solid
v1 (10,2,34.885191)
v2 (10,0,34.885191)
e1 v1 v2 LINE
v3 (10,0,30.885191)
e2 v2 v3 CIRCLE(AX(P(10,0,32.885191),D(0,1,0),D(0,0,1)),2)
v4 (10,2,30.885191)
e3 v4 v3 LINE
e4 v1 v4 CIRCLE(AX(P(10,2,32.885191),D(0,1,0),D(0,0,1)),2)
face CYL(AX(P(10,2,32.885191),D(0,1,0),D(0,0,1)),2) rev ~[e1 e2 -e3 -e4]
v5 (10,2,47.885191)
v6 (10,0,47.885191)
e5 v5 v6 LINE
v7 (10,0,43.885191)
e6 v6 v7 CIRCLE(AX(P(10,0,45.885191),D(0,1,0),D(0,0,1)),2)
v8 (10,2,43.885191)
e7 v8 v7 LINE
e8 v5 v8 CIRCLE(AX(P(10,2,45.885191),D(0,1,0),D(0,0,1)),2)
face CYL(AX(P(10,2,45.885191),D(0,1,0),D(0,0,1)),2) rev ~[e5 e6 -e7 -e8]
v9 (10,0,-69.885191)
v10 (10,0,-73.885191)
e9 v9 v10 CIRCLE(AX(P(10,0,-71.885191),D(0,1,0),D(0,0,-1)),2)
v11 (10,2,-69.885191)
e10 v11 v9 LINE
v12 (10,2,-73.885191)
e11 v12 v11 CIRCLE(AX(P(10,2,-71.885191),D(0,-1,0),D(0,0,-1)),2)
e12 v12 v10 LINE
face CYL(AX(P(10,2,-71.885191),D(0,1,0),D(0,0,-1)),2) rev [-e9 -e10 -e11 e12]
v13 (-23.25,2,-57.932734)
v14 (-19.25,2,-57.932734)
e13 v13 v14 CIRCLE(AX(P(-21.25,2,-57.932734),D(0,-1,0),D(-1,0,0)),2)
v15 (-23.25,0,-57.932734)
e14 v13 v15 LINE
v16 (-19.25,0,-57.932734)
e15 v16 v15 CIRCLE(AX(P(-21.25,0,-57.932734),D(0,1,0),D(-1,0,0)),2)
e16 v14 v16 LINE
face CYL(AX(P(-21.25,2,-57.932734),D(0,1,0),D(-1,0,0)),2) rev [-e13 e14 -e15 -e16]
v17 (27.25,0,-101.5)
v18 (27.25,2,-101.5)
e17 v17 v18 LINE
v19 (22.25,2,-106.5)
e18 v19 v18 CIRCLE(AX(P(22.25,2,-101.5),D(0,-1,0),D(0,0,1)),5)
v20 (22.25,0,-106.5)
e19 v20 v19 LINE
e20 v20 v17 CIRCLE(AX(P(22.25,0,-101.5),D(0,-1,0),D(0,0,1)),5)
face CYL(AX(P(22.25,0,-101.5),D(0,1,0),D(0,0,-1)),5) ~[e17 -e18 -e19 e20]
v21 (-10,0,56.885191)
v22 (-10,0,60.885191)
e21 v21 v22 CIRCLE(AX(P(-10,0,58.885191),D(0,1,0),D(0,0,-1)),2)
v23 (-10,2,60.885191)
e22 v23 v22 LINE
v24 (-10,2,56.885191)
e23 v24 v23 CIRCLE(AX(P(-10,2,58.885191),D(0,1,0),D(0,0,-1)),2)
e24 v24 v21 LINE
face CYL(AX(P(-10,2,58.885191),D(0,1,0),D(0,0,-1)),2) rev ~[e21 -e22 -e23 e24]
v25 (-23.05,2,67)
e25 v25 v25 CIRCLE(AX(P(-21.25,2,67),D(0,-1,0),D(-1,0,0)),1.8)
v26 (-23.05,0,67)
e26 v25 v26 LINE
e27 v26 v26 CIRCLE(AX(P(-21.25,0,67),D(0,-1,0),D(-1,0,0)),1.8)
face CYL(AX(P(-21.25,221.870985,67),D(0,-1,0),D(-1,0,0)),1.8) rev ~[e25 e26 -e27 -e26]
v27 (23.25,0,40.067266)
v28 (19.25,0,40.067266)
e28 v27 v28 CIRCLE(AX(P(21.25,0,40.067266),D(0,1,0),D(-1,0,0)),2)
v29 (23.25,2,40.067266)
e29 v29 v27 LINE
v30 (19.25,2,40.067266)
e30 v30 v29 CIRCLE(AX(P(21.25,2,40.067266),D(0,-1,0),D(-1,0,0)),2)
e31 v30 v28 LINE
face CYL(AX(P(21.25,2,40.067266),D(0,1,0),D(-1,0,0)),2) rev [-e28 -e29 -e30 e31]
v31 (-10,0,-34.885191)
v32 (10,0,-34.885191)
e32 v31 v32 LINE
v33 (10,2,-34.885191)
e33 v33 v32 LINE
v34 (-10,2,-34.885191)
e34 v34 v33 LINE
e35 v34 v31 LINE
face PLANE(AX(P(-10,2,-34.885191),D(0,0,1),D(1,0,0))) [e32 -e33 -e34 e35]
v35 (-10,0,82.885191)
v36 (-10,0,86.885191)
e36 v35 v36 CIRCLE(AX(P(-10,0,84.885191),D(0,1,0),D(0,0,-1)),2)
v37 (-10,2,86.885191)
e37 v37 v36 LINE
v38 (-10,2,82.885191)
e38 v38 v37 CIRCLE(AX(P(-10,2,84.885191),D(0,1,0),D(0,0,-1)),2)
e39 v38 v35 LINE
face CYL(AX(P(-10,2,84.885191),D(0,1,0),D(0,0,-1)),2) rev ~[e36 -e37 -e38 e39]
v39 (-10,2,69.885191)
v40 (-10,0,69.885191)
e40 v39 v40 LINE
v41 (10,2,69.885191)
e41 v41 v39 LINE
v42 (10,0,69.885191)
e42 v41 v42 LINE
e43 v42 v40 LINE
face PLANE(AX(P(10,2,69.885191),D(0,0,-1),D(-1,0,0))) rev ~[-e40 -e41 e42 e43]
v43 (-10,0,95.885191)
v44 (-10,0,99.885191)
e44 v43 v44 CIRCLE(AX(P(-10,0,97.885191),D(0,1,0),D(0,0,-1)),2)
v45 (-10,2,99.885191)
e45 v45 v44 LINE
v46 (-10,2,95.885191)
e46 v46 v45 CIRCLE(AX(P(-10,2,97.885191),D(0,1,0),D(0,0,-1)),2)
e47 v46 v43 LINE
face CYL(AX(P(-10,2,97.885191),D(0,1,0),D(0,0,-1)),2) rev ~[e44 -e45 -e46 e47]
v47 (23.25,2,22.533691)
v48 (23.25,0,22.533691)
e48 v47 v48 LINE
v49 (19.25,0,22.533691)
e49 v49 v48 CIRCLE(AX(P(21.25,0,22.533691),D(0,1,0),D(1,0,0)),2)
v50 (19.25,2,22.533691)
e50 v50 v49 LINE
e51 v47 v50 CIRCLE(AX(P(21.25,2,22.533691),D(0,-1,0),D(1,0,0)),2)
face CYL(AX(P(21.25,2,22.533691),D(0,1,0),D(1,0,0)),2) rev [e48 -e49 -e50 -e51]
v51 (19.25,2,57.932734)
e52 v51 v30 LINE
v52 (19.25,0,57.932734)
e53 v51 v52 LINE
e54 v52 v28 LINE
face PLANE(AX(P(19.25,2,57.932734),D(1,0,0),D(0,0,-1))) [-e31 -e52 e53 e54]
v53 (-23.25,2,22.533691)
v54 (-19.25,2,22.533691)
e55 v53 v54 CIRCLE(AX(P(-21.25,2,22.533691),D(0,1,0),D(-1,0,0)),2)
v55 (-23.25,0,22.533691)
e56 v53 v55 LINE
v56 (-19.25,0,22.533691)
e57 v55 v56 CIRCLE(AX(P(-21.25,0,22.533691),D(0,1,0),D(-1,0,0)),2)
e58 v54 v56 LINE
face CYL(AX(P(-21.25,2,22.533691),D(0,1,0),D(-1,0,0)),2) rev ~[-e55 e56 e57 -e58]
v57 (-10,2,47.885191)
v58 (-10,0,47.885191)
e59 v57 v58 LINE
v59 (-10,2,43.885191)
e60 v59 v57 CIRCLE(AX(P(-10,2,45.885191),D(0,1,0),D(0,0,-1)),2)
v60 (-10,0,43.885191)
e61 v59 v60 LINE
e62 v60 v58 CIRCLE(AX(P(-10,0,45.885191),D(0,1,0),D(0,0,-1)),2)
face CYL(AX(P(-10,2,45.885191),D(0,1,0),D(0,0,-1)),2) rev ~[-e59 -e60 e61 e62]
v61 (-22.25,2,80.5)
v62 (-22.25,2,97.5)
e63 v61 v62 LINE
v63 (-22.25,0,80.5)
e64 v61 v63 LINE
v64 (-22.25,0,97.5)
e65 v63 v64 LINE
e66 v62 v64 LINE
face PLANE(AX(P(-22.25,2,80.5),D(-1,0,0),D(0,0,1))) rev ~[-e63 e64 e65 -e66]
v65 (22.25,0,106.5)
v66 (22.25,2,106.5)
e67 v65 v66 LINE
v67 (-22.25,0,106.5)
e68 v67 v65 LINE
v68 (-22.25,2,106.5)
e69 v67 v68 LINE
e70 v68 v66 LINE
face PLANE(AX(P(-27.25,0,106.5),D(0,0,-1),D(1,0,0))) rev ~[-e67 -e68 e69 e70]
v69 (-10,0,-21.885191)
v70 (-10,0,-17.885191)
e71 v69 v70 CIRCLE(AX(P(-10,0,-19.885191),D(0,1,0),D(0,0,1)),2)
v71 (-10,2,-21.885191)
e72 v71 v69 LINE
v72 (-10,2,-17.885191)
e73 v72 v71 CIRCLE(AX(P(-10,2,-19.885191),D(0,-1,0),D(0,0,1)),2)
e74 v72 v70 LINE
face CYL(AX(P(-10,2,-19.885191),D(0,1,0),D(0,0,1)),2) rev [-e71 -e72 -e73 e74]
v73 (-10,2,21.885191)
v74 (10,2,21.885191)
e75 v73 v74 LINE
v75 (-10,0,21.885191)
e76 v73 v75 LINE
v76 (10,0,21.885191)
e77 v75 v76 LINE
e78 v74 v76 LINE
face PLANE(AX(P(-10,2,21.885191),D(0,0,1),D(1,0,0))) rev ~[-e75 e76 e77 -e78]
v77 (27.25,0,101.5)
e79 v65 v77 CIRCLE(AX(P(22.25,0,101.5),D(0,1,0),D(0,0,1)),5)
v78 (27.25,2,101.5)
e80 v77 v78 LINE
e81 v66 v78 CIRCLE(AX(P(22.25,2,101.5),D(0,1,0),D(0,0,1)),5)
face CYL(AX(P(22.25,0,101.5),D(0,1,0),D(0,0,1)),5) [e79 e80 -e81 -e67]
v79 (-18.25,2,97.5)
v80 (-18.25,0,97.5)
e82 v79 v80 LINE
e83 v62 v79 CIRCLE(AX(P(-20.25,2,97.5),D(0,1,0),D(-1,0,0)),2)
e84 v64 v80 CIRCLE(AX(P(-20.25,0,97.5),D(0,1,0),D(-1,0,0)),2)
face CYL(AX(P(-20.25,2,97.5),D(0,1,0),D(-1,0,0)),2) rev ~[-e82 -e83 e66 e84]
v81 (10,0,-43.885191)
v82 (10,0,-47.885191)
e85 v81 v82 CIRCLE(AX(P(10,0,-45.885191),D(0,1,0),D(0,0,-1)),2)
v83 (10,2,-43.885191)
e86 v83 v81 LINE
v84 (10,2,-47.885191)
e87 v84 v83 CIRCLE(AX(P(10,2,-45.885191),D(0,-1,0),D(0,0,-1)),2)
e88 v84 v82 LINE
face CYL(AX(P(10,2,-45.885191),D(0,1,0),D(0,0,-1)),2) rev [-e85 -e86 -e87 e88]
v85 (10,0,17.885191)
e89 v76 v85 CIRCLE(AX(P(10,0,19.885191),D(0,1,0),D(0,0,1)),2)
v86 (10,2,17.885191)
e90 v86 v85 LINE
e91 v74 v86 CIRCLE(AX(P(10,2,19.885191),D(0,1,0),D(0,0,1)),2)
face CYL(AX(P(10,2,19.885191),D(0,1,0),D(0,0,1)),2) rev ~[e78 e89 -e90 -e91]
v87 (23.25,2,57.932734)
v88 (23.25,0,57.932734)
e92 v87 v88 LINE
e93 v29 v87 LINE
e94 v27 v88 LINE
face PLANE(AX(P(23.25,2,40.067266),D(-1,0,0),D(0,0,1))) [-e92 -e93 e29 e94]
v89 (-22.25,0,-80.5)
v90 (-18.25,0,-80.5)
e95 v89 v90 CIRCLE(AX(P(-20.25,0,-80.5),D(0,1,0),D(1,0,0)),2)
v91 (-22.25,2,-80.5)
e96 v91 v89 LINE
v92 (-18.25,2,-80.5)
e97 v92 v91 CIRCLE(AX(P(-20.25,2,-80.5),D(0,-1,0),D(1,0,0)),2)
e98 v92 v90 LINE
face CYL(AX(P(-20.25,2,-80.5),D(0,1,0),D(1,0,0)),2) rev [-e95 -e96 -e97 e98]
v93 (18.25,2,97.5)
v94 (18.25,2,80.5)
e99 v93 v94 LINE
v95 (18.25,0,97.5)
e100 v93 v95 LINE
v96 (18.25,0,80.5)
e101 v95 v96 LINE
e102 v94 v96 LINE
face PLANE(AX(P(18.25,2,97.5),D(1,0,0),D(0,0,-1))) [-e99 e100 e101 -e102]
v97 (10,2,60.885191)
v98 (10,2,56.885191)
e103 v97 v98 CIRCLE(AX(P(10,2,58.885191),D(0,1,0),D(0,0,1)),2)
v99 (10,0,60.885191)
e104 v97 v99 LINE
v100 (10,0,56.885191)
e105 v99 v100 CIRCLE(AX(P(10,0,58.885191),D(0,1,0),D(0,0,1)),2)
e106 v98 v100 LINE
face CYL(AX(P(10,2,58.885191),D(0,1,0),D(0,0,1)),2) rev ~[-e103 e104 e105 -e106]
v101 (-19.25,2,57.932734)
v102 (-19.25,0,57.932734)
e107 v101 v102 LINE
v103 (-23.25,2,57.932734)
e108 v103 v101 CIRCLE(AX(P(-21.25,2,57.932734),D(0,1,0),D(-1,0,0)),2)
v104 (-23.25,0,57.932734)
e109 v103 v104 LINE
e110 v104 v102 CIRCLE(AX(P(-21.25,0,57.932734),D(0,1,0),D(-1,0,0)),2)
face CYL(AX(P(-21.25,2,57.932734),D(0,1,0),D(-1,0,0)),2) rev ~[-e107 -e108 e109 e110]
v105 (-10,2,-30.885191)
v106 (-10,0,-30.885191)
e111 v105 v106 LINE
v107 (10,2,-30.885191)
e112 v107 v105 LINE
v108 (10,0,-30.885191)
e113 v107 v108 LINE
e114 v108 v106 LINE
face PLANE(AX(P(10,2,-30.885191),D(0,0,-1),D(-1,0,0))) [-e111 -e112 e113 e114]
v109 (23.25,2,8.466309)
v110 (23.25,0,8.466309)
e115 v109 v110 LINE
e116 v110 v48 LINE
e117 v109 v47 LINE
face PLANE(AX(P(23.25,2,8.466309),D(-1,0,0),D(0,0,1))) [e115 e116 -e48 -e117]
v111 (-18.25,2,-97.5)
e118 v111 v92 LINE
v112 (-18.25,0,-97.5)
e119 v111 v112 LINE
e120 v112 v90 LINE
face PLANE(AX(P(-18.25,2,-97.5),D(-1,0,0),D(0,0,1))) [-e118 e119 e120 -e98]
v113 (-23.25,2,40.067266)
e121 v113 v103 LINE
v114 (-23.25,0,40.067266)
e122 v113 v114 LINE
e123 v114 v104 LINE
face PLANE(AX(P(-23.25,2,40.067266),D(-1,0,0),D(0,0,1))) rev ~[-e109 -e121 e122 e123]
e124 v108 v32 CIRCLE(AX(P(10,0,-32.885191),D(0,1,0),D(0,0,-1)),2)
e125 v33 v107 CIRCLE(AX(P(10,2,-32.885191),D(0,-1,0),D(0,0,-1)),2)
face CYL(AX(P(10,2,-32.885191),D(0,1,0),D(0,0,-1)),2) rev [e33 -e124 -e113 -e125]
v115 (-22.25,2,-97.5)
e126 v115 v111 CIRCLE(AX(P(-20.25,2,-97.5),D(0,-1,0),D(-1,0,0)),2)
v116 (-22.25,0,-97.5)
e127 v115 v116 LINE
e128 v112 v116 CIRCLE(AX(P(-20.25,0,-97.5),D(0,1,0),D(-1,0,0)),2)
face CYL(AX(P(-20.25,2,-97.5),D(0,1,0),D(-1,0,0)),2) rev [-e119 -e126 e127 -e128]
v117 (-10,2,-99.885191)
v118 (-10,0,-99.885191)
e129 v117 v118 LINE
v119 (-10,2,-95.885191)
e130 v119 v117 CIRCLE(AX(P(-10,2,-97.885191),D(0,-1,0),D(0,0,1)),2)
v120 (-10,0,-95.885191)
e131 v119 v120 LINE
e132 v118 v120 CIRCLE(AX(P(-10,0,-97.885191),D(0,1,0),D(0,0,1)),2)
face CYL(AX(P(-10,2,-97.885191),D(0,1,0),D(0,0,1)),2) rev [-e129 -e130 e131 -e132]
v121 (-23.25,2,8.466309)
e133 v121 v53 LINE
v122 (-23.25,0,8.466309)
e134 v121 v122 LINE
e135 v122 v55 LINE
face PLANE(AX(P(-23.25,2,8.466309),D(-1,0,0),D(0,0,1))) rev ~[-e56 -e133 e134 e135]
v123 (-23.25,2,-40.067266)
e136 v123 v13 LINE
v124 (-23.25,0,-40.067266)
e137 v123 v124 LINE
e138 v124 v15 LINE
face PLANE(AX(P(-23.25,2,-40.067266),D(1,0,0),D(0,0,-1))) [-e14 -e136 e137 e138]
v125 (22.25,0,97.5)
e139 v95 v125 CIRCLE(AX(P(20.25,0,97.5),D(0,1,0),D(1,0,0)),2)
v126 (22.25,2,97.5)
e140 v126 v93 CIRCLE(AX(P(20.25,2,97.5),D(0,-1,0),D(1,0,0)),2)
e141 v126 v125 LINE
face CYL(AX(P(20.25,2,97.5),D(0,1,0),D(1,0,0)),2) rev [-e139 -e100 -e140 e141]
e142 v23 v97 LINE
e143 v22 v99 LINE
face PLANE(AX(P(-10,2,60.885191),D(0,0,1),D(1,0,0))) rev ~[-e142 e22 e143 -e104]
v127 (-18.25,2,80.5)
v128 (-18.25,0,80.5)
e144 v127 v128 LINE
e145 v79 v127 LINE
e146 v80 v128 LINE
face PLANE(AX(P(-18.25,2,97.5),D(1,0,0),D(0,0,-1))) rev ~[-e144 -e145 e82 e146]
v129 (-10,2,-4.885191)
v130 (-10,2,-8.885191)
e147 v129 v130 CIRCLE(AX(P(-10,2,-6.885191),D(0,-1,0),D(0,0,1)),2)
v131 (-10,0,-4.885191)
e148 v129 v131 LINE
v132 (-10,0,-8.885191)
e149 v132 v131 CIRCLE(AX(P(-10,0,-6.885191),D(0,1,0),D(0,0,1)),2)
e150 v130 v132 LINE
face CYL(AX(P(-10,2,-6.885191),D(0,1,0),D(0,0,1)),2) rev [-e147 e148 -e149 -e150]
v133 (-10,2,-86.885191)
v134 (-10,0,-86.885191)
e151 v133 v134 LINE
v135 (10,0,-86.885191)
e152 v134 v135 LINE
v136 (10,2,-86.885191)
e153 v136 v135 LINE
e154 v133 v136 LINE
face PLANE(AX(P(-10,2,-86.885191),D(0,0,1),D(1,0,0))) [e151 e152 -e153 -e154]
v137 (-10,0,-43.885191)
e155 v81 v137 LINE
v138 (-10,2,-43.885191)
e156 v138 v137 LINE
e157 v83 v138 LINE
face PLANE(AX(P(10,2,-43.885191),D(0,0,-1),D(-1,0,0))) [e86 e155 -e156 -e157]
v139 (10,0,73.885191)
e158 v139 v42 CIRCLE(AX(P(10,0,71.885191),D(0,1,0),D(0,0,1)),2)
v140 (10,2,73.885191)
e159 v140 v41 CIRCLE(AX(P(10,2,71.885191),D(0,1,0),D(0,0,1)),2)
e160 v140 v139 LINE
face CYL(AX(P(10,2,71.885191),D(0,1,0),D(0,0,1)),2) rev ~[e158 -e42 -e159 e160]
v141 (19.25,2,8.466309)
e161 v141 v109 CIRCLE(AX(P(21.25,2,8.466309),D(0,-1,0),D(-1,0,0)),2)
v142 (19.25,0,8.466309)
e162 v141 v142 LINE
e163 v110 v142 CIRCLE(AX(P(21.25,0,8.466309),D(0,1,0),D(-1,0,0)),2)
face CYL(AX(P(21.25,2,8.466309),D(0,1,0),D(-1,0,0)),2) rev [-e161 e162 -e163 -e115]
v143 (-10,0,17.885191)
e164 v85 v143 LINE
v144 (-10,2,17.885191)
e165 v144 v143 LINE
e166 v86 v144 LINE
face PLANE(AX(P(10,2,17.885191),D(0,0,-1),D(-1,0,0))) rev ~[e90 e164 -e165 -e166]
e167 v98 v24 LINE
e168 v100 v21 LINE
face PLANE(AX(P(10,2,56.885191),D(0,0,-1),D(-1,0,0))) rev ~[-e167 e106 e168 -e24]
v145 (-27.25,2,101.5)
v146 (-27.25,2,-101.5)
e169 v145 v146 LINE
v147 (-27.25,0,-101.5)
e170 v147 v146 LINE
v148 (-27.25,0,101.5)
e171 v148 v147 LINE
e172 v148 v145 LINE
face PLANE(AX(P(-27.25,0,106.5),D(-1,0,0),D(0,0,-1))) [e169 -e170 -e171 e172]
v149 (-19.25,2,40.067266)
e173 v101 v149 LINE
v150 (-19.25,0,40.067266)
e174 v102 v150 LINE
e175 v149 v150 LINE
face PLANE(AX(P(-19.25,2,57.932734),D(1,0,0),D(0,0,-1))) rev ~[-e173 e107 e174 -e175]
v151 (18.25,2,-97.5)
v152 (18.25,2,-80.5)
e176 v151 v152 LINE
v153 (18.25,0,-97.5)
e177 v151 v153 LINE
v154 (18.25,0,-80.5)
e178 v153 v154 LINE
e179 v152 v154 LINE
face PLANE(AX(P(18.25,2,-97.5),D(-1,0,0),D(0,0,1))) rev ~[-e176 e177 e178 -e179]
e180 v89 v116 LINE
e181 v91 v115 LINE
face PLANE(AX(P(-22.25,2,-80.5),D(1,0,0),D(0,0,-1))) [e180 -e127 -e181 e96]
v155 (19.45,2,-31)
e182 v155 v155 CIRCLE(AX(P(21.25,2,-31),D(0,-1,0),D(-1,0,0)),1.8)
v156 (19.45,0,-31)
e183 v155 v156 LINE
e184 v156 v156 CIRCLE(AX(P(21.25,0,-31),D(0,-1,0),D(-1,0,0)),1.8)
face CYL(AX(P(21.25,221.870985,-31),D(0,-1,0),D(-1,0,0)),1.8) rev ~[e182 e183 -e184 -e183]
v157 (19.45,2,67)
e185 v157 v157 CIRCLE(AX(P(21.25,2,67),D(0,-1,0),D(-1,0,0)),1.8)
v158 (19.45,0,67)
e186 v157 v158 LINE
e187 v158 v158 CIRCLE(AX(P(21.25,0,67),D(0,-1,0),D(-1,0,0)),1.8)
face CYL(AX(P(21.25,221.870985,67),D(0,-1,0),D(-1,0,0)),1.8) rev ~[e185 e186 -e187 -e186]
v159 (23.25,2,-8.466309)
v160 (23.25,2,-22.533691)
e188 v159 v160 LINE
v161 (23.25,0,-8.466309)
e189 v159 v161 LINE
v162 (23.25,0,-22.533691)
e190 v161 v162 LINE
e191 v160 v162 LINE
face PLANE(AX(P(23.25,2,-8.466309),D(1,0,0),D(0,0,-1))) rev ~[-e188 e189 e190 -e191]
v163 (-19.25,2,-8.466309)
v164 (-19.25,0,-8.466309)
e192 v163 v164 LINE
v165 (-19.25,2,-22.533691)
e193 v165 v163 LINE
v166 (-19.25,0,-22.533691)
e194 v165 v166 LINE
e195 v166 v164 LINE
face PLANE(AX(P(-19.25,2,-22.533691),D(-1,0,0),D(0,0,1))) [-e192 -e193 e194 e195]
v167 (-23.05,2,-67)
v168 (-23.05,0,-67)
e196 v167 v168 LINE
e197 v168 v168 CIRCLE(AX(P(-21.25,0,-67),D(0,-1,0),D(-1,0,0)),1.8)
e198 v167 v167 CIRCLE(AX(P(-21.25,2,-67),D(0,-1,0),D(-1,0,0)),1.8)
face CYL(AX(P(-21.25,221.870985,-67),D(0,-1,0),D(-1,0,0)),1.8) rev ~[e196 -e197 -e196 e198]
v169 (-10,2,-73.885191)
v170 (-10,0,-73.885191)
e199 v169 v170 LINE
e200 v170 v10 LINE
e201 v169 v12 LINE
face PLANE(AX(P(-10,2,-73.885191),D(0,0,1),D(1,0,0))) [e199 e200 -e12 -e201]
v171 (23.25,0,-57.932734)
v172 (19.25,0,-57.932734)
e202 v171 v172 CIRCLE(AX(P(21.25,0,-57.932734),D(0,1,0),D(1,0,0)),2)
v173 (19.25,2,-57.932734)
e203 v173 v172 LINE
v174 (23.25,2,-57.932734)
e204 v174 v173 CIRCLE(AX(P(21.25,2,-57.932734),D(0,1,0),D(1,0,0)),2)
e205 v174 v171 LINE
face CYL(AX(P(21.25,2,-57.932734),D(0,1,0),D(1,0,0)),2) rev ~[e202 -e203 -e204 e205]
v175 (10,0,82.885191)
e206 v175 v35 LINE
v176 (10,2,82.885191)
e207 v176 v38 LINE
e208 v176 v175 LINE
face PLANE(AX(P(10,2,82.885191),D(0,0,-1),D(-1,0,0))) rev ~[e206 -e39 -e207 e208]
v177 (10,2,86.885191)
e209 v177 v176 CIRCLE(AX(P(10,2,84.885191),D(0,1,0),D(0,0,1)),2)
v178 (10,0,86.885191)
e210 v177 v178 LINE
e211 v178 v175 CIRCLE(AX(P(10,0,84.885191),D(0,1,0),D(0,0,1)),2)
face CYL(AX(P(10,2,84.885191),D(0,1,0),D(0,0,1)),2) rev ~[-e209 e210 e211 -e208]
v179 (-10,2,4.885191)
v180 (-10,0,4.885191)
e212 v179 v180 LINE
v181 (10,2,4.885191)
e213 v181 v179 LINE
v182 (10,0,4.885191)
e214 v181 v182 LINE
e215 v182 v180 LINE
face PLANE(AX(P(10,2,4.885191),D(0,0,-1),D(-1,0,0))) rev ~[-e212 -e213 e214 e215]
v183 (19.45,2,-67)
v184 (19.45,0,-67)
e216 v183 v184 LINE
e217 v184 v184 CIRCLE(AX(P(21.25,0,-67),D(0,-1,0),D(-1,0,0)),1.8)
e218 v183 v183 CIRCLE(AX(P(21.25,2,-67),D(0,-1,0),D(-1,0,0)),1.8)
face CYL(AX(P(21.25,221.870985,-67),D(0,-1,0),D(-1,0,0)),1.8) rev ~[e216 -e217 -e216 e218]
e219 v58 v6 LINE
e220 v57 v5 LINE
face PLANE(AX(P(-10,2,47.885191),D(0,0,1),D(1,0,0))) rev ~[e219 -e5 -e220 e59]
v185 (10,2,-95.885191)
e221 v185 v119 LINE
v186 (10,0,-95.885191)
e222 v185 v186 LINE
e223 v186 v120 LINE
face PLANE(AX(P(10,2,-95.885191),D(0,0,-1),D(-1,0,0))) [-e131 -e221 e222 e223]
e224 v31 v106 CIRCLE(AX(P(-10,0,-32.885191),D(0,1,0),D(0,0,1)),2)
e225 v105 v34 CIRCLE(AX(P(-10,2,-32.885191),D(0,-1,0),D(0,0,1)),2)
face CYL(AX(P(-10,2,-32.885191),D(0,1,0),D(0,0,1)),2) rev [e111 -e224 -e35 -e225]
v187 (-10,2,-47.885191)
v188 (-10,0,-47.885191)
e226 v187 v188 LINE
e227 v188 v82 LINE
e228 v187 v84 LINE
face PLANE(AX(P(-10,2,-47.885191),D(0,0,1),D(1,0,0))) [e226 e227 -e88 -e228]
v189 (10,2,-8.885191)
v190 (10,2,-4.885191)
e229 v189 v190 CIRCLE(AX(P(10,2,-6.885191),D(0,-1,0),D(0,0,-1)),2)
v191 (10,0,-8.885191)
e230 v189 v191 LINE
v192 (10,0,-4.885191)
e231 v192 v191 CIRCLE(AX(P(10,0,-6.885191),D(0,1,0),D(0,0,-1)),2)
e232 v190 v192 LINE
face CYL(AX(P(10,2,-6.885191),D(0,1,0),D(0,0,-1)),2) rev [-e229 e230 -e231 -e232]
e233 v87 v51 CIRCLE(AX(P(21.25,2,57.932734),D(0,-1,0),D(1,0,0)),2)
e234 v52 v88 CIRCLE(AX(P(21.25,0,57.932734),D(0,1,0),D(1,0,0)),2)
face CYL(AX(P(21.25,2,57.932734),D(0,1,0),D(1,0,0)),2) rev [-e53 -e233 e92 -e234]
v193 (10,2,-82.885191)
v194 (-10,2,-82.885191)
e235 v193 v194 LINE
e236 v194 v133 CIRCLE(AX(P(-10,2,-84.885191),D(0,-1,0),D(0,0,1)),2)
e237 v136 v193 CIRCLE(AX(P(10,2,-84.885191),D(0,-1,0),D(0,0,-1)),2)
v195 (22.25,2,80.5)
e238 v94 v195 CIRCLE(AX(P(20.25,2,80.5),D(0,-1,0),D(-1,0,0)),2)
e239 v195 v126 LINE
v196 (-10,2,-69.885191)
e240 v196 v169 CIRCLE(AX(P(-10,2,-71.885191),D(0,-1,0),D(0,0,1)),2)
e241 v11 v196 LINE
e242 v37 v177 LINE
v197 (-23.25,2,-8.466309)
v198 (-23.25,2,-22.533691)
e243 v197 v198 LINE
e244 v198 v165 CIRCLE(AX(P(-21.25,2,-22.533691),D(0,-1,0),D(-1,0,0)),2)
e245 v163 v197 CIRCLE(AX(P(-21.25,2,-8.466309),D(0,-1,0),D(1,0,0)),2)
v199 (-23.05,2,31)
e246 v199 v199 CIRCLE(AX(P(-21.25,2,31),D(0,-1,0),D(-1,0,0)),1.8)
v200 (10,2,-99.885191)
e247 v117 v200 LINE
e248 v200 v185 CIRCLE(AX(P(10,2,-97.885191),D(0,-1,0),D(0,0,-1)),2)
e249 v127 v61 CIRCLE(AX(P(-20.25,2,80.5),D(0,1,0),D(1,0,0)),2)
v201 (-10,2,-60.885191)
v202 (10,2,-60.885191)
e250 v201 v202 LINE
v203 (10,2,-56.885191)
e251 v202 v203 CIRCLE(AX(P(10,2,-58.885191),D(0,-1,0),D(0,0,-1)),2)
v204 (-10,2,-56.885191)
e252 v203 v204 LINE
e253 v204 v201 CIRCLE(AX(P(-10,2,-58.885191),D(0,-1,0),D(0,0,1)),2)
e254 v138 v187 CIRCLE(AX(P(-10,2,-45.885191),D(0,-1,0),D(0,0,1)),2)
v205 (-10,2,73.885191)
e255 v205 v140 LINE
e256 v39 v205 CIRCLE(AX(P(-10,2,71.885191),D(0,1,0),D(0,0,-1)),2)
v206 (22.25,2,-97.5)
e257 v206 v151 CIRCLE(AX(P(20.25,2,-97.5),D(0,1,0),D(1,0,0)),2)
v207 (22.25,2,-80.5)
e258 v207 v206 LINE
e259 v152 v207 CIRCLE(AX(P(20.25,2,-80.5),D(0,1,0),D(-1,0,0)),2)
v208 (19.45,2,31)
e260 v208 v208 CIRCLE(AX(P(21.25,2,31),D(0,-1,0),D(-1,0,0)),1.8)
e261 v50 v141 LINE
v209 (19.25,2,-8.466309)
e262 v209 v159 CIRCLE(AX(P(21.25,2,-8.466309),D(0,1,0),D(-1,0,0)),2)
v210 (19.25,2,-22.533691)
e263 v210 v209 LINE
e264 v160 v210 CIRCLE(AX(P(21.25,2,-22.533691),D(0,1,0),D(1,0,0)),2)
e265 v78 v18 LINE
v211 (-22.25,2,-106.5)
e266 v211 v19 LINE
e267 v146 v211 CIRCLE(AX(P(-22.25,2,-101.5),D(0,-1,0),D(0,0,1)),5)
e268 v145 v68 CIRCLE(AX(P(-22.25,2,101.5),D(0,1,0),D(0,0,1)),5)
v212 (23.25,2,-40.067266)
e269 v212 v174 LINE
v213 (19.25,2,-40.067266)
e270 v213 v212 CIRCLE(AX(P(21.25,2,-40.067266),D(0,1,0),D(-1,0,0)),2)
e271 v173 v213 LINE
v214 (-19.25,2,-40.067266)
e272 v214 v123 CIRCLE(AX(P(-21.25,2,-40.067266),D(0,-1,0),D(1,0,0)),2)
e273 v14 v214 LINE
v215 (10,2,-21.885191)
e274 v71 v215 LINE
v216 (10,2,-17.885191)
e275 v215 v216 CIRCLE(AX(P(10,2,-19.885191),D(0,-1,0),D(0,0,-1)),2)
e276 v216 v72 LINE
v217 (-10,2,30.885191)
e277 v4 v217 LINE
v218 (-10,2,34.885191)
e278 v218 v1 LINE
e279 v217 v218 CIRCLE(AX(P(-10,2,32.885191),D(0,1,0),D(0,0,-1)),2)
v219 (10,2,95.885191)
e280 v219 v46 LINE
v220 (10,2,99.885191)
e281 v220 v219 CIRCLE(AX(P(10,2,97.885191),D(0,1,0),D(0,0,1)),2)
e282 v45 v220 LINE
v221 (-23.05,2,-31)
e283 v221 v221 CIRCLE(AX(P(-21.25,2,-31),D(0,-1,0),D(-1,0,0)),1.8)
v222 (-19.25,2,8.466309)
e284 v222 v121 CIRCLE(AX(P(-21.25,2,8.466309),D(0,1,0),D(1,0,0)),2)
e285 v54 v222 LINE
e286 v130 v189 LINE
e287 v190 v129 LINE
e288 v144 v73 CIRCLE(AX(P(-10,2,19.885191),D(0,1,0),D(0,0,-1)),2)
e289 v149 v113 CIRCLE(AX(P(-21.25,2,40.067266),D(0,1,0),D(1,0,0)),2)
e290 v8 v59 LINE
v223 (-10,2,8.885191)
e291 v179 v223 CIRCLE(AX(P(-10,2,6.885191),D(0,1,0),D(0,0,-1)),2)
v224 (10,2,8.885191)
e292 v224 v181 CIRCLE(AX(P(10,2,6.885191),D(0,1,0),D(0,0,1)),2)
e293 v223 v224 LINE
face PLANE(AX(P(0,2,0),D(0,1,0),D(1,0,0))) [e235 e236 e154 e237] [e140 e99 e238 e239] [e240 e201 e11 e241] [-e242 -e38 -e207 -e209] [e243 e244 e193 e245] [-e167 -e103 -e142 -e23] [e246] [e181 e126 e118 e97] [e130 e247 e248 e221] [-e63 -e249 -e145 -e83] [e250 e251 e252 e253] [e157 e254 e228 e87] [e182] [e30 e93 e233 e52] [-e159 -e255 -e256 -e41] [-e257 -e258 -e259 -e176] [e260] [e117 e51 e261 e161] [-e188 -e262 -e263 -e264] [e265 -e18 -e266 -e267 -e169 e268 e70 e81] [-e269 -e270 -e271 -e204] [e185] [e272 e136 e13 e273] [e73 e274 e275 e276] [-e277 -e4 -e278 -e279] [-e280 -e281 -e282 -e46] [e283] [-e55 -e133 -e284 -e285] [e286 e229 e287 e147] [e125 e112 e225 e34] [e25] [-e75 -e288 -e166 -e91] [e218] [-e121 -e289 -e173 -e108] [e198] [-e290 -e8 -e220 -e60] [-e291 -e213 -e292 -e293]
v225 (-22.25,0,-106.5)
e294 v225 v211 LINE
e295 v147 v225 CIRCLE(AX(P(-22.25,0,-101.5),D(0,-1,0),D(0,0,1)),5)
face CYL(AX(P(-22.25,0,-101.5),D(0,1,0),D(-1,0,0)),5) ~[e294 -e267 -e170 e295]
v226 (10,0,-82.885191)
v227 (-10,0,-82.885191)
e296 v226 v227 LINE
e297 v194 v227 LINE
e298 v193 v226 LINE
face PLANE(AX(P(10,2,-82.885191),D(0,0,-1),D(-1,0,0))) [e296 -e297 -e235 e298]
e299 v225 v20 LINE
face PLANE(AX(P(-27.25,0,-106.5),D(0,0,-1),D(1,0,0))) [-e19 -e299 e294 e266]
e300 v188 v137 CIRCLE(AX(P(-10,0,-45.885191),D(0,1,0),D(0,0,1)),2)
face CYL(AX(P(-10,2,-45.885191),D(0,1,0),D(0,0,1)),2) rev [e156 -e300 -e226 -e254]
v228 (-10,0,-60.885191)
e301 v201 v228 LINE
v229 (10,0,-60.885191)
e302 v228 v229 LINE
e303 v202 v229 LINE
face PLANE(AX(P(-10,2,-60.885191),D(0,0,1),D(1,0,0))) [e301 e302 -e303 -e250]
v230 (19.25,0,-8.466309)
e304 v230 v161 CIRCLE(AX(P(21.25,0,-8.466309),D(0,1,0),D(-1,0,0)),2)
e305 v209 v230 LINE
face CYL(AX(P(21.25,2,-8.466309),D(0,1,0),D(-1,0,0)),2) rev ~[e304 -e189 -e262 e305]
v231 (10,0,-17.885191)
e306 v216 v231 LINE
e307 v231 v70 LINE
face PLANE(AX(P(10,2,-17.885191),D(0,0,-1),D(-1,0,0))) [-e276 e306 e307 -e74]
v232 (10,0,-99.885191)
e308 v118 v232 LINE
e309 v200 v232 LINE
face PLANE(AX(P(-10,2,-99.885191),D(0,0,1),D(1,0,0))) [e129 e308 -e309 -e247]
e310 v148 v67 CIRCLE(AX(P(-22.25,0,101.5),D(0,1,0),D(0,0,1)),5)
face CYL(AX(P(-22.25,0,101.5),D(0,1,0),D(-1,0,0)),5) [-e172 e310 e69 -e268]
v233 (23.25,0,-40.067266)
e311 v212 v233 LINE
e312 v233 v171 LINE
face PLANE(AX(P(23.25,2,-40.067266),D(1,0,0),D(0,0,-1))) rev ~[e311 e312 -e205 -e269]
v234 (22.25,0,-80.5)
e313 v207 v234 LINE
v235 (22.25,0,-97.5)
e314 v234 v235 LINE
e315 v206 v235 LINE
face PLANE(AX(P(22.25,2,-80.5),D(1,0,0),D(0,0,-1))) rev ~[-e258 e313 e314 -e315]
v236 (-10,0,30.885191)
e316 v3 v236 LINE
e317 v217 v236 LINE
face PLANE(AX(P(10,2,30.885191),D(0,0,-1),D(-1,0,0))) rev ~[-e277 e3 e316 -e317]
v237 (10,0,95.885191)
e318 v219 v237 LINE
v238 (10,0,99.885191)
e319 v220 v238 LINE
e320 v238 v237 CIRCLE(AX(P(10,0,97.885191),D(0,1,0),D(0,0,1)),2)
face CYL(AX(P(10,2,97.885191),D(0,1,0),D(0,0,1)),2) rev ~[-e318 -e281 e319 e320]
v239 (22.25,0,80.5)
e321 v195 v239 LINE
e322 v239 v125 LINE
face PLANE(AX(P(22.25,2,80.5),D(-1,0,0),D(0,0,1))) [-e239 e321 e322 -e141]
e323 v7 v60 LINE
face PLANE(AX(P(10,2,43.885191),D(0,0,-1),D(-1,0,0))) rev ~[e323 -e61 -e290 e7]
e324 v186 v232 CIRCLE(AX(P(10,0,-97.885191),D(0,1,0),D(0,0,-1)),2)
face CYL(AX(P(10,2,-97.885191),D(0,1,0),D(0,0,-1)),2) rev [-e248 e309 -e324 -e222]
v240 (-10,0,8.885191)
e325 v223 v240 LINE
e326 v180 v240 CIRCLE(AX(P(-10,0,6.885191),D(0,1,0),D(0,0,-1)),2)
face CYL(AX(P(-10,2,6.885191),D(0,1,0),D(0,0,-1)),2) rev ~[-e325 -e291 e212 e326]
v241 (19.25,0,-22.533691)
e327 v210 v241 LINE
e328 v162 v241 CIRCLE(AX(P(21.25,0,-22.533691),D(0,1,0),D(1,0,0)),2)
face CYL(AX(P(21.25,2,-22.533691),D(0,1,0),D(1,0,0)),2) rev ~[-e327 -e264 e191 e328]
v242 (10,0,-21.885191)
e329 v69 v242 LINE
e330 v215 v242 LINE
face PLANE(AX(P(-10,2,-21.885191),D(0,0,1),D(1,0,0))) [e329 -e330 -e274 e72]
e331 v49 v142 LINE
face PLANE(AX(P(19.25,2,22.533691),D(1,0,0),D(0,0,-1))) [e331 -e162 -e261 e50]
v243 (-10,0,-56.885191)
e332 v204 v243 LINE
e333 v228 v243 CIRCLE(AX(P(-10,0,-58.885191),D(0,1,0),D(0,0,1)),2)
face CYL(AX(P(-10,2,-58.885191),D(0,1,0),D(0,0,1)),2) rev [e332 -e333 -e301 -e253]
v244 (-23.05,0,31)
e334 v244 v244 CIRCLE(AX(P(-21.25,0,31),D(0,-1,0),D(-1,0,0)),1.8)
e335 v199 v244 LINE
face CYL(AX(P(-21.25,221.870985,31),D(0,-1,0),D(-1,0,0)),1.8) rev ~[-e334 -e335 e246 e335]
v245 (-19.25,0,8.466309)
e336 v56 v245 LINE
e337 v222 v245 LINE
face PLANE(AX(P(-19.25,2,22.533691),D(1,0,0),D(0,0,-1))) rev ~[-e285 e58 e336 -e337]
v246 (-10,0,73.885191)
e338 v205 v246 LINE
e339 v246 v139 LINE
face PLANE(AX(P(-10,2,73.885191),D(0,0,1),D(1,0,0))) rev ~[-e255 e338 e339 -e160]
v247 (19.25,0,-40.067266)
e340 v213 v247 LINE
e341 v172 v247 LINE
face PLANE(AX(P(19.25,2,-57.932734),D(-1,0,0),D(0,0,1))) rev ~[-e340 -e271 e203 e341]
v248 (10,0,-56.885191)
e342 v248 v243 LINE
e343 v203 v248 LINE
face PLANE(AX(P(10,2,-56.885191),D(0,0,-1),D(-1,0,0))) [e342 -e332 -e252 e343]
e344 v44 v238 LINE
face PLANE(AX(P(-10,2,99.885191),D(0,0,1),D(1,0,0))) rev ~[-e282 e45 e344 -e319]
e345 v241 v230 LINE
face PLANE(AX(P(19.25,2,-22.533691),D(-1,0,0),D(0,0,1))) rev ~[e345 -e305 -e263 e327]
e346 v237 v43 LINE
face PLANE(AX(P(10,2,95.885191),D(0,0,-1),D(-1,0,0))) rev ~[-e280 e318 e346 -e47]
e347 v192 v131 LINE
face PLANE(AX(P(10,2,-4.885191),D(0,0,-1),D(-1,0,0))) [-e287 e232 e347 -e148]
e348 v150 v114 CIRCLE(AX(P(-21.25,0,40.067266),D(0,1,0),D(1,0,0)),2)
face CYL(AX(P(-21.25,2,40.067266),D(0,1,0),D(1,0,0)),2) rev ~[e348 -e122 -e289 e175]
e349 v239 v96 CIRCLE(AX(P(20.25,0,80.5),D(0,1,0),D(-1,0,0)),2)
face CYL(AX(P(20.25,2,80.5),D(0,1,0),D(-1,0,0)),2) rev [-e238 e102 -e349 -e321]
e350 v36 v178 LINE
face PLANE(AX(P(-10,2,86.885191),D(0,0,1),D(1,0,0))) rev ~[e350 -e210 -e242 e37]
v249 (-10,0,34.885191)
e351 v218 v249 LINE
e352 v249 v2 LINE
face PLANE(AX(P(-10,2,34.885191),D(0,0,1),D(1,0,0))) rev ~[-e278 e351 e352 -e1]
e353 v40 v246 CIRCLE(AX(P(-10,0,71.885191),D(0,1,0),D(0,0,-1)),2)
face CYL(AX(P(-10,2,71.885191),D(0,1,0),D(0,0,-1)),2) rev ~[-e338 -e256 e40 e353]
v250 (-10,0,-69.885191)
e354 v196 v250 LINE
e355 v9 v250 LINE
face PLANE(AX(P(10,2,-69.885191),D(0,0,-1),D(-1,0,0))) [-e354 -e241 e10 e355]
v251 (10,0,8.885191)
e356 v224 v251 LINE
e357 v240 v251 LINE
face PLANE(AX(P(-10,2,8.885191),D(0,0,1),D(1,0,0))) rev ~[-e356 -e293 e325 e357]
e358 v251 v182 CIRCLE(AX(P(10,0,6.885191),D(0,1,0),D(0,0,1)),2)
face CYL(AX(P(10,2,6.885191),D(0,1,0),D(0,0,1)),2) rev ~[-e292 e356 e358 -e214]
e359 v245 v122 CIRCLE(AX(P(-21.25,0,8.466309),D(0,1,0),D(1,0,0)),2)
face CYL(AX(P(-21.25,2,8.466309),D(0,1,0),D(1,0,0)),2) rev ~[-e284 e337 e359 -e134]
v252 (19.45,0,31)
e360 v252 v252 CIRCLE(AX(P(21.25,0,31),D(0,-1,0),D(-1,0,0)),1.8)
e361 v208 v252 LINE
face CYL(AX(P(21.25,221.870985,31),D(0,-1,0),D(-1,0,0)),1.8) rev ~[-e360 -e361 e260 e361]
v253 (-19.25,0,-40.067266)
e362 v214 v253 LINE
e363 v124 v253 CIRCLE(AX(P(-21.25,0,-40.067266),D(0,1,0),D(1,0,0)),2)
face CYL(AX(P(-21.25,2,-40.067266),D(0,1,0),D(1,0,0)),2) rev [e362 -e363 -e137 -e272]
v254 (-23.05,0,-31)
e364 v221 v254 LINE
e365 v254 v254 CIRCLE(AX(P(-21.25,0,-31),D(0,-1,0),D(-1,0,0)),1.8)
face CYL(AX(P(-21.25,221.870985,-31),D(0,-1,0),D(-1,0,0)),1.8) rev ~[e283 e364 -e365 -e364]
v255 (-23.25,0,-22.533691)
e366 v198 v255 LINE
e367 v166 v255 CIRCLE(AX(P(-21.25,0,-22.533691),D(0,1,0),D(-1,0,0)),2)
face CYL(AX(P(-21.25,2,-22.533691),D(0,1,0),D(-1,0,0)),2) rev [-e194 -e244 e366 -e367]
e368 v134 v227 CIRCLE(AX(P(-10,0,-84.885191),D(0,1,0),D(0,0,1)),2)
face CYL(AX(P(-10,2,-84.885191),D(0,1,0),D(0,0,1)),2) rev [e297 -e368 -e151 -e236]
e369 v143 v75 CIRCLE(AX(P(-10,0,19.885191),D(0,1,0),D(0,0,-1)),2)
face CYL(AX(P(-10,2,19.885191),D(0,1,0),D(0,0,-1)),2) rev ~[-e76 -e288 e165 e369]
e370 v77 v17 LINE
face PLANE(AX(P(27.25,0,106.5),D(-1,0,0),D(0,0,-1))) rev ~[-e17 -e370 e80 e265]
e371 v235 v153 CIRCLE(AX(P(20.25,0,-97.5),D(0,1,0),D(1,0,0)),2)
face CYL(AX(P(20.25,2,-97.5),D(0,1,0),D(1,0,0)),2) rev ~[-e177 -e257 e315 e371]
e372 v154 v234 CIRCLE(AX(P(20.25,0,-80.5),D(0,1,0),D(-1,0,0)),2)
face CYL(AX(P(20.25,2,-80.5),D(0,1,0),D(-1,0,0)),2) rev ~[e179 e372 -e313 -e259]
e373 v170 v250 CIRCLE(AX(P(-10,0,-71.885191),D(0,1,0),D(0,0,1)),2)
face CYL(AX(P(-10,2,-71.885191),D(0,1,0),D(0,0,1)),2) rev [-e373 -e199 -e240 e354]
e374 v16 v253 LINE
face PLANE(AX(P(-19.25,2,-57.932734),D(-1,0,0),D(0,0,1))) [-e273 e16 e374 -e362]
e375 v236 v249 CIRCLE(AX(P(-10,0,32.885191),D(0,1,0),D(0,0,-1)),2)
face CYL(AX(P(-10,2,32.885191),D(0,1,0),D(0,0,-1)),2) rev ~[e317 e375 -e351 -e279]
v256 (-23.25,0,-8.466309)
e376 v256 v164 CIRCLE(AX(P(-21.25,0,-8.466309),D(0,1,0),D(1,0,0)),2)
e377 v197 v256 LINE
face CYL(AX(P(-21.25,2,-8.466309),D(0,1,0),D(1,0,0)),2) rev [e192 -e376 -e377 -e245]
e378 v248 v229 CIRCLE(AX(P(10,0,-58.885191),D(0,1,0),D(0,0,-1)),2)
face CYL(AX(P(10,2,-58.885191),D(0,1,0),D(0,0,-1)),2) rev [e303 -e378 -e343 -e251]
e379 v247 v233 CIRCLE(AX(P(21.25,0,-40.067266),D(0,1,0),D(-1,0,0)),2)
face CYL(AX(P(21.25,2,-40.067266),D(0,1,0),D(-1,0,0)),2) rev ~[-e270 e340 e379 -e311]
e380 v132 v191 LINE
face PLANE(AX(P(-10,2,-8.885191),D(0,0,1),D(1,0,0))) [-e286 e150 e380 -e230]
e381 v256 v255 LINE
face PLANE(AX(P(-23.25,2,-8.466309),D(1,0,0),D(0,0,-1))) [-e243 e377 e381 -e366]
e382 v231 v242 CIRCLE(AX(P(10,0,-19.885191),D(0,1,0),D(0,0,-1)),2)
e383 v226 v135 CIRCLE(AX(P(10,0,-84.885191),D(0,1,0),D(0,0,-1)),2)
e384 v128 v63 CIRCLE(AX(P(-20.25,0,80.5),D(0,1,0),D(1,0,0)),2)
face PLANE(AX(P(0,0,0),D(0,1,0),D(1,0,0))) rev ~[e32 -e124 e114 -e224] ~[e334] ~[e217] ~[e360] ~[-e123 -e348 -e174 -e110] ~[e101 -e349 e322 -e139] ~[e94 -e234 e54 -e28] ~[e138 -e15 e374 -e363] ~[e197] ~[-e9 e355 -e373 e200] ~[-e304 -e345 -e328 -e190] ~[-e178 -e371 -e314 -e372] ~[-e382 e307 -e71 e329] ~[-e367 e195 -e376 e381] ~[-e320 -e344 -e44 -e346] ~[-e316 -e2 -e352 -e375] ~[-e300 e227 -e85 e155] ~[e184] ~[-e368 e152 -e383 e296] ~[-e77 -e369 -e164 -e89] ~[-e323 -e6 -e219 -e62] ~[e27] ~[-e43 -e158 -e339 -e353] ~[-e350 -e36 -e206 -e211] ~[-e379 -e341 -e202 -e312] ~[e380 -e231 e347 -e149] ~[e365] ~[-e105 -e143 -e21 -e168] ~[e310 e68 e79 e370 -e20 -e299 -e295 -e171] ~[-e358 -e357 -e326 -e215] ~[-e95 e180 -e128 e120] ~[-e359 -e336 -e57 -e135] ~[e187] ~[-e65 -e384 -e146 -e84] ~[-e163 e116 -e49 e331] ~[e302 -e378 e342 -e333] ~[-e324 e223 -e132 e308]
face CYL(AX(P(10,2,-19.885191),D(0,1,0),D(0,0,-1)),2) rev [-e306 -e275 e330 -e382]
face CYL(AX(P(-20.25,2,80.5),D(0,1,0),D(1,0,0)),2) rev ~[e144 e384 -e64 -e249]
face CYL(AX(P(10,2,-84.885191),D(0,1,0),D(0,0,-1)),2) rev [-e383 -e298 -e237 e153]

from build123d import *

# Parameters (mm, degrees)
SKETCH1_W            = 54.5
SKETCH1_H            = 213
BOSS_EXTRUDE1_DEPTH  = 2
M3_CLEARANCE_HOLE1_D = 3.6
CUT_EXTRUDE1_DEPTH   = 110.949135968
FILLET1_R            = 5


with BuildPart() as part:
    # Sketch1 → Boss-Extrude1 (new body)
    with BuildSketch(Plane(origin=(0, 0, 0), x_dir=(1, 0, 0), z_dir=(0, 1, 0))):
        Rectangle(SKETCH1_W, SKETCH1_H)
    extrude(amount=BOSS_EXTRUDE1_DEPTH)

    # M3 Clearance Hole1 (through all)
    with Locations(Plane(origin=(0, 2, 0), x_dir=(1, 0, 0), z_dir=(0, 1, 0))):
        with Locations((-21.25, 67), (-21.25, 31), (21.25, 67), (21.25, 31), (21.25, -31), (21.25, -67), (-21.25, -67), (-21.25, -31)):
            Hole(M3_CLEARANCE_HOLE1_D / 2)

    # Sketch5 → Cut-Extrude1 (cut, through all)
    with BuildSketch(Plane(origin=(0, 2, 0), x_dir=(1, 0, 0), z_dir=(0, 1, 0))):
        with BuildLine():
            Line((-18.25, 97.5), (-18.25, 80.5))
            ThreePointArc((-18.25, 80.5), (-20.25, 78.5), (-22.25, 80.5))
            Line((-22.25, 80.5), (-22.25, 97.5))
            ThreePointArc((-22.25, 97.5), (-20.25, 99.5), (-18.25, 97.5))
        make_face()
        with BuildLine():
            Line((18.25, 97.5), (18.25, 80.5))
            ThreePointArc((18.25, 80.5), (20.25, 78.5), (22.25, 80.5))
            Line((22.25, 80.5), (22.25, 97.5))
            ThreePointArc((22.25, 97.5), (20.25, 99.5), (18.25, 97.5))
        make_face()
        with BuildLine():
            Line((-10, 99.885191349), (10, 99.885191349))
            ThreePointArc((10, 99.885191349), (12, 97.885191349), (10, 95.885191349))
            Line((10, 95.885191349), (-10, 95.885191349))
            ThreePointArc((-10, 95.885191349), (-12, 97.885191349), (-10, 99.885191349))
        make_face()
        with BuildLine():
            Line((-10, 86.885191349), (10, 86.885191349))
            ThreePointArc((10, 86.885191349), (12, 84.885191349), (10, 82.885191349))
            Line((10, 82.885191349), (-10, 82.885191349))
            ThreePointArc((-10, 82.885191349), (-12, 84.885191349), (-10, 86.885191349))
        make_face()
        with BuildLine():
            Line((-10, 73.885191349), (10, 73.885191349))
            ThreePointArc((10, 73.885191349), (12, 71.885191349), (10, 69.885191349))
            Line((10, 69.885191349), (-10, 69.885191349))
            ThreePointArc((-10, 69.885191349), (-12, 71.885191349), (-10, 73.885191349))
        make_face()
        with BuildLine():
            Line((-10, 60.885191349), (10, 60.885191349))
            ThreePointArc((10, 60.885191349), (12, 58.885191349), (10, 56.885191349))
            Line((10, 56.885191349), (-10, 56.885191349))
            ThreePointArc((-10, 56.885191349), (-12, 58.885191349), (-10, 60.885191349))
        make_face()
        with BuildLine():
            Line((-10, 47.885191349), (10, 47.885191349))
            ThreePointArc((10, 47.885191349), (12, 45.885191349), (10, 43.885191349))
            Line((10, 43.885191349), (-10, 43.885191349))
            ThreePointArc((-10, 43.885191349), (-12, 45.885191349), (-10, 47.885191349))
        make_face()
        with BuildLine():
            Line((-10, 34.885191349), (10, 34.885191349))
            ThreePointArc((10, 34.885191349), (12, 32.885191349), (10, 30.885191349))
            Line((10, 30.885191349), (-10, 30.885191349))
            ThreePointArc((-10, 30.885191349), (-12, 32.885191349), (-10, 34.885191349))
        make_face()
        with BuildLine():
            Line((-10, 21.885191349), (10, 21.885191349))
            ThreePointArc((10, 21.885191349), (12, 19.885191349), (10, 17.885191349))
            Line((10, 17.885191349), (-10, 17.885191349))
            ThreePointArc((-10, 17.885191349), (-12, 19.885191349), (-10, 21.885191349))
        make_face()
        with BuildLine():
            Line((-10, 8.885191349), (10, 8.885191349))
            ThreePointArc((10, 8.885191349), (12, 6.885191349), (10, 4.885191349))
            Line((10, 4.885191349), (-10, 4.885191349))
            ThreePointArc((-10, 4.885191349), (-12, 6.885191349), (-10, 8.885191349))
        make_face()
        with BuildLine():
            Line((-19.25, 57.932734115), (-19.25, 40.067265885))
            ThreePointArc((-19.25, 40.067265885), (-21.25, 38.067265885), (-23.25, 40.067265885))
            Line((-23.25, 40.067265885), (-23.25, 57.932734115))
            ThreePointArc((-23.25, 57.932734115), (-21.25, 59.932734115), (-19.25, 57.932734115))
        make_face()
        with BuildLine():
            Line((-19.25, 22.533690779), (-19.25, 8.466309221))
            ThreePointArc((-19.25, 8.466309221), (-21.25, 6.466309221), (-23.25, 8.466309221))
            Line((-23.25, 8.466309221), (-23.25, 22.533690779))
            ThreePointArc((-23.25, 22.533690779), (-21.25, 24.533690779), (-19.25, 22.533690779))
        make_face()
        with BuildLine():
            Line((19.25, 57.932734115), (19.25, 40.067265885))
            ThreePointArc((19.25, 40.067265885), (21.25, 38.067265885), (23.25, 40.067265885))
            Line((23.25, 40.067265885), (23.25, 57.932734115))
            ThreePointArc((23.25, 57.932734115), (21.25, 59.932734115), (19.25, 57.932734115))
        make_face()
        with BuildLine():
            Line((19.25, 22.533690779), (19.25, 8.466309221))
            ThreePointArc((19.25, 8.466309221), (21.25, 6.466309221), (23.25, 8.466309221))
            Line((23.25, 8.466309221), (23.25, 22.533690779))
            ThreePointArc((23.25, 22.533690779), (21.25, 24.533690779), (19.25, 22.533690779))
        make_face()
        with BuildLine():
            Line((-18.25, -97.5), (-18.25, -80.5))
            ThreePointArc((-18.25, -80.5), (-20.25, -78.5), (-22.25, -80.5))
            Line((-22.25, -80.5), (-22.25, -97.5))
            ThreePointArc((-22.25, -97.5), (-20.25, -99.5), (-18.25, -97.5))
        make_face()
        with BuildLine():
            Line((18.25, -97.5), (18.25, -80.5))
            ThreePointArc((18.25, -80.5), (20.25, -78.5), (22.25, -80.5))
            Line((22.25, -80.5), (22.25, -97.5))
            ThreePointArc((22.25, -97.5), (20.25, -99.5), (18.25, -97.5))
        make_face()
        with BuildLine():
            Line((-10, -99.885191349), (10, -99.885191349))
            ThreePointArc((10, -99.885191349), (12, -97.885191349), (10, -95.885191349))
            Line((10, -95.885191349), (-10, -95.885191349))
            ThreePointArc((-10, -95.885191349), (-12, -97.885191349), (-10, -99.885191349))
        make_face()
        with BuildLine():
            Line((-10, -86.885191349), (10, -86.885191349))
            ThreePointArc((10, -86.885191349), (12, -84.885191349), (10, -82.885191349))
            Line((10, -82.885191349), (-10, -82.885191349))
            ThreePointArc((-10, -82.885191349), (-12, -84.885191349), (-10, -86.885191349))
        make_face()
        with BuildLine():
            Line((-10, -73.885191349), (10, -73.885191349))
            ThreePointArc((10, -73.885191349), (12, -71.885191349), (10, -69.885191349))
            Line((10, -69.885191349), (-10, -69.885191349))
            ThreePointArc((-10, -69.885191349), (-12, -71.885191349), (-10, -73.885191349))
        make_face()
        with BuildLine():
            Line((-10, -60.885191349), (10, -60.885191349))
            ThreePointArc((10, -60.885191349), (12, -58.885191349), (10, -56.885191349))
            Line((10, -56.885191349), (-10, -56.885191349))
            ThreePointArc((-10, -56.885191349), (-12, -58.885191349), (-10, -60.885191349))
        make_face()
        with BuildLine():
            Line((-10, -47.885191349), (10, -47.885191349))
            ThreePointArc((10, -47.885191349), (12, -45.885191349), (10, -43.885191349))
            Line((10, -43.885191349), (-10, -43.885191349))
            ThreePointArc((-10, -43.885191349), (-12, -45.885191349), (-10, -47.885191349))
        make_face()
        with BuildLine():
            Line((-10, -34.885191349), (10, -34.885191349))
            ThreePointArc((10, -34.885191349), (12, -32.885191349), (10, -30.885191349))
            Line((10, -30.885191349), (-10, -30.885191349))
            ThreePointArc((-10, -30.885191349), (-12, -32.885191349), (-10, -34.885191349))
        make_face()
        with BuildLine():
            Line((-10, -21.885191349), (10, -21.885191349))
            ThreePointArc((10, -21.885191349), (12, -19.885191349), (10, -17.885191349))
            Line((10, -17.885191349), (-10, -17.885191349))
            ThreePointArc((-10, -17.885191349), (-12, -19.885191349), (-10, -21.885191349))
        make_face()
        with BuildLine():
            Line((-10, -8.885191349), (10, -8.885191349))
            ThreePointArc((10, -8.885191349), (12, -6.885191349), (10, -4.885191349))
            Line((10, -4.885191349), (-10, -4.885191349))
            ThreePointArc((-10, -4.885191349), (-12, -6.885191349), (-10, -8.885191349))
        make_face()
        with BuildLine():
            Line((-19.25, -57.932734115), (-19.25, -40.067265885))
            ThreePointArc((-19.25, -40.067265885), (-21.25, -38.067265885), (-23.25, -40.067265885))
            Line((-23.25, -40.067265885), (-23.25, -57.932734115))
            ThreePointArc((-23.25, -57.932734115), (-21.25, -59.932734115), (-19.25, -57.932734115))
        make_face()
        with BuildLine():
            Line((-19.25, -22.533690779), (-19.25, -8.466309221))
            ThreePointArc((-19.25, -8.466309221), (-21.25, -6.466309221), (-23.25, -8.466309221))
            Line((-23.25, -8.466309221), (-23.25, -22.533690779))
            ThreePointArc((-23.25, -22.533690779), (-21.25, -24.533690779), (-19.25, -22.533690779))
        make_face()
        with BuildLine():
            Line((19.25, -57.932734115), (19.25, -40.067265885))
            ThreePointArc((19.25, -40.067265885), (21.25, -38.067265885), (23.25, -40.067265885))
            Line((23.25, -40.067265885), (23.25, -57.932734115))
            ThreePointArc((23.25, -57.932734115), (21.25, -59.932734115), (19.25, -57.932734115))
        make_face()
        with BuildLine():
            Line((19.25, -22.533690779), (19.25, -8.466309221))
            ThreePointArc((19.25, -8.466309221), (21.25, -6.466309221), (23.25, -8.466309221))
            Line((23.25, -8.466309221), (23.25, -22.533690779))
            ThreePointArc((23.25, -22.533690779), (21.25, -24.533690779), (19.25, -22.533690779))
        make_face()
    extrude(amount=-CUT_EXTRUDE1_DEPTH, mode=Mode.SUBTRACT)

    # Fillet1
    fillet1_edges = [part.edges().sort_by_distance(p)[0] for p in [
        (27.25, 1, 106.5),
        (-27.25, 1, 106.5),
        (-27.25, 1, -106.5),
        (27.25, 1, -106.5),
    ]]
    fillet(fillet1_edges, radius=FILLET1_R)


solid = part.part
